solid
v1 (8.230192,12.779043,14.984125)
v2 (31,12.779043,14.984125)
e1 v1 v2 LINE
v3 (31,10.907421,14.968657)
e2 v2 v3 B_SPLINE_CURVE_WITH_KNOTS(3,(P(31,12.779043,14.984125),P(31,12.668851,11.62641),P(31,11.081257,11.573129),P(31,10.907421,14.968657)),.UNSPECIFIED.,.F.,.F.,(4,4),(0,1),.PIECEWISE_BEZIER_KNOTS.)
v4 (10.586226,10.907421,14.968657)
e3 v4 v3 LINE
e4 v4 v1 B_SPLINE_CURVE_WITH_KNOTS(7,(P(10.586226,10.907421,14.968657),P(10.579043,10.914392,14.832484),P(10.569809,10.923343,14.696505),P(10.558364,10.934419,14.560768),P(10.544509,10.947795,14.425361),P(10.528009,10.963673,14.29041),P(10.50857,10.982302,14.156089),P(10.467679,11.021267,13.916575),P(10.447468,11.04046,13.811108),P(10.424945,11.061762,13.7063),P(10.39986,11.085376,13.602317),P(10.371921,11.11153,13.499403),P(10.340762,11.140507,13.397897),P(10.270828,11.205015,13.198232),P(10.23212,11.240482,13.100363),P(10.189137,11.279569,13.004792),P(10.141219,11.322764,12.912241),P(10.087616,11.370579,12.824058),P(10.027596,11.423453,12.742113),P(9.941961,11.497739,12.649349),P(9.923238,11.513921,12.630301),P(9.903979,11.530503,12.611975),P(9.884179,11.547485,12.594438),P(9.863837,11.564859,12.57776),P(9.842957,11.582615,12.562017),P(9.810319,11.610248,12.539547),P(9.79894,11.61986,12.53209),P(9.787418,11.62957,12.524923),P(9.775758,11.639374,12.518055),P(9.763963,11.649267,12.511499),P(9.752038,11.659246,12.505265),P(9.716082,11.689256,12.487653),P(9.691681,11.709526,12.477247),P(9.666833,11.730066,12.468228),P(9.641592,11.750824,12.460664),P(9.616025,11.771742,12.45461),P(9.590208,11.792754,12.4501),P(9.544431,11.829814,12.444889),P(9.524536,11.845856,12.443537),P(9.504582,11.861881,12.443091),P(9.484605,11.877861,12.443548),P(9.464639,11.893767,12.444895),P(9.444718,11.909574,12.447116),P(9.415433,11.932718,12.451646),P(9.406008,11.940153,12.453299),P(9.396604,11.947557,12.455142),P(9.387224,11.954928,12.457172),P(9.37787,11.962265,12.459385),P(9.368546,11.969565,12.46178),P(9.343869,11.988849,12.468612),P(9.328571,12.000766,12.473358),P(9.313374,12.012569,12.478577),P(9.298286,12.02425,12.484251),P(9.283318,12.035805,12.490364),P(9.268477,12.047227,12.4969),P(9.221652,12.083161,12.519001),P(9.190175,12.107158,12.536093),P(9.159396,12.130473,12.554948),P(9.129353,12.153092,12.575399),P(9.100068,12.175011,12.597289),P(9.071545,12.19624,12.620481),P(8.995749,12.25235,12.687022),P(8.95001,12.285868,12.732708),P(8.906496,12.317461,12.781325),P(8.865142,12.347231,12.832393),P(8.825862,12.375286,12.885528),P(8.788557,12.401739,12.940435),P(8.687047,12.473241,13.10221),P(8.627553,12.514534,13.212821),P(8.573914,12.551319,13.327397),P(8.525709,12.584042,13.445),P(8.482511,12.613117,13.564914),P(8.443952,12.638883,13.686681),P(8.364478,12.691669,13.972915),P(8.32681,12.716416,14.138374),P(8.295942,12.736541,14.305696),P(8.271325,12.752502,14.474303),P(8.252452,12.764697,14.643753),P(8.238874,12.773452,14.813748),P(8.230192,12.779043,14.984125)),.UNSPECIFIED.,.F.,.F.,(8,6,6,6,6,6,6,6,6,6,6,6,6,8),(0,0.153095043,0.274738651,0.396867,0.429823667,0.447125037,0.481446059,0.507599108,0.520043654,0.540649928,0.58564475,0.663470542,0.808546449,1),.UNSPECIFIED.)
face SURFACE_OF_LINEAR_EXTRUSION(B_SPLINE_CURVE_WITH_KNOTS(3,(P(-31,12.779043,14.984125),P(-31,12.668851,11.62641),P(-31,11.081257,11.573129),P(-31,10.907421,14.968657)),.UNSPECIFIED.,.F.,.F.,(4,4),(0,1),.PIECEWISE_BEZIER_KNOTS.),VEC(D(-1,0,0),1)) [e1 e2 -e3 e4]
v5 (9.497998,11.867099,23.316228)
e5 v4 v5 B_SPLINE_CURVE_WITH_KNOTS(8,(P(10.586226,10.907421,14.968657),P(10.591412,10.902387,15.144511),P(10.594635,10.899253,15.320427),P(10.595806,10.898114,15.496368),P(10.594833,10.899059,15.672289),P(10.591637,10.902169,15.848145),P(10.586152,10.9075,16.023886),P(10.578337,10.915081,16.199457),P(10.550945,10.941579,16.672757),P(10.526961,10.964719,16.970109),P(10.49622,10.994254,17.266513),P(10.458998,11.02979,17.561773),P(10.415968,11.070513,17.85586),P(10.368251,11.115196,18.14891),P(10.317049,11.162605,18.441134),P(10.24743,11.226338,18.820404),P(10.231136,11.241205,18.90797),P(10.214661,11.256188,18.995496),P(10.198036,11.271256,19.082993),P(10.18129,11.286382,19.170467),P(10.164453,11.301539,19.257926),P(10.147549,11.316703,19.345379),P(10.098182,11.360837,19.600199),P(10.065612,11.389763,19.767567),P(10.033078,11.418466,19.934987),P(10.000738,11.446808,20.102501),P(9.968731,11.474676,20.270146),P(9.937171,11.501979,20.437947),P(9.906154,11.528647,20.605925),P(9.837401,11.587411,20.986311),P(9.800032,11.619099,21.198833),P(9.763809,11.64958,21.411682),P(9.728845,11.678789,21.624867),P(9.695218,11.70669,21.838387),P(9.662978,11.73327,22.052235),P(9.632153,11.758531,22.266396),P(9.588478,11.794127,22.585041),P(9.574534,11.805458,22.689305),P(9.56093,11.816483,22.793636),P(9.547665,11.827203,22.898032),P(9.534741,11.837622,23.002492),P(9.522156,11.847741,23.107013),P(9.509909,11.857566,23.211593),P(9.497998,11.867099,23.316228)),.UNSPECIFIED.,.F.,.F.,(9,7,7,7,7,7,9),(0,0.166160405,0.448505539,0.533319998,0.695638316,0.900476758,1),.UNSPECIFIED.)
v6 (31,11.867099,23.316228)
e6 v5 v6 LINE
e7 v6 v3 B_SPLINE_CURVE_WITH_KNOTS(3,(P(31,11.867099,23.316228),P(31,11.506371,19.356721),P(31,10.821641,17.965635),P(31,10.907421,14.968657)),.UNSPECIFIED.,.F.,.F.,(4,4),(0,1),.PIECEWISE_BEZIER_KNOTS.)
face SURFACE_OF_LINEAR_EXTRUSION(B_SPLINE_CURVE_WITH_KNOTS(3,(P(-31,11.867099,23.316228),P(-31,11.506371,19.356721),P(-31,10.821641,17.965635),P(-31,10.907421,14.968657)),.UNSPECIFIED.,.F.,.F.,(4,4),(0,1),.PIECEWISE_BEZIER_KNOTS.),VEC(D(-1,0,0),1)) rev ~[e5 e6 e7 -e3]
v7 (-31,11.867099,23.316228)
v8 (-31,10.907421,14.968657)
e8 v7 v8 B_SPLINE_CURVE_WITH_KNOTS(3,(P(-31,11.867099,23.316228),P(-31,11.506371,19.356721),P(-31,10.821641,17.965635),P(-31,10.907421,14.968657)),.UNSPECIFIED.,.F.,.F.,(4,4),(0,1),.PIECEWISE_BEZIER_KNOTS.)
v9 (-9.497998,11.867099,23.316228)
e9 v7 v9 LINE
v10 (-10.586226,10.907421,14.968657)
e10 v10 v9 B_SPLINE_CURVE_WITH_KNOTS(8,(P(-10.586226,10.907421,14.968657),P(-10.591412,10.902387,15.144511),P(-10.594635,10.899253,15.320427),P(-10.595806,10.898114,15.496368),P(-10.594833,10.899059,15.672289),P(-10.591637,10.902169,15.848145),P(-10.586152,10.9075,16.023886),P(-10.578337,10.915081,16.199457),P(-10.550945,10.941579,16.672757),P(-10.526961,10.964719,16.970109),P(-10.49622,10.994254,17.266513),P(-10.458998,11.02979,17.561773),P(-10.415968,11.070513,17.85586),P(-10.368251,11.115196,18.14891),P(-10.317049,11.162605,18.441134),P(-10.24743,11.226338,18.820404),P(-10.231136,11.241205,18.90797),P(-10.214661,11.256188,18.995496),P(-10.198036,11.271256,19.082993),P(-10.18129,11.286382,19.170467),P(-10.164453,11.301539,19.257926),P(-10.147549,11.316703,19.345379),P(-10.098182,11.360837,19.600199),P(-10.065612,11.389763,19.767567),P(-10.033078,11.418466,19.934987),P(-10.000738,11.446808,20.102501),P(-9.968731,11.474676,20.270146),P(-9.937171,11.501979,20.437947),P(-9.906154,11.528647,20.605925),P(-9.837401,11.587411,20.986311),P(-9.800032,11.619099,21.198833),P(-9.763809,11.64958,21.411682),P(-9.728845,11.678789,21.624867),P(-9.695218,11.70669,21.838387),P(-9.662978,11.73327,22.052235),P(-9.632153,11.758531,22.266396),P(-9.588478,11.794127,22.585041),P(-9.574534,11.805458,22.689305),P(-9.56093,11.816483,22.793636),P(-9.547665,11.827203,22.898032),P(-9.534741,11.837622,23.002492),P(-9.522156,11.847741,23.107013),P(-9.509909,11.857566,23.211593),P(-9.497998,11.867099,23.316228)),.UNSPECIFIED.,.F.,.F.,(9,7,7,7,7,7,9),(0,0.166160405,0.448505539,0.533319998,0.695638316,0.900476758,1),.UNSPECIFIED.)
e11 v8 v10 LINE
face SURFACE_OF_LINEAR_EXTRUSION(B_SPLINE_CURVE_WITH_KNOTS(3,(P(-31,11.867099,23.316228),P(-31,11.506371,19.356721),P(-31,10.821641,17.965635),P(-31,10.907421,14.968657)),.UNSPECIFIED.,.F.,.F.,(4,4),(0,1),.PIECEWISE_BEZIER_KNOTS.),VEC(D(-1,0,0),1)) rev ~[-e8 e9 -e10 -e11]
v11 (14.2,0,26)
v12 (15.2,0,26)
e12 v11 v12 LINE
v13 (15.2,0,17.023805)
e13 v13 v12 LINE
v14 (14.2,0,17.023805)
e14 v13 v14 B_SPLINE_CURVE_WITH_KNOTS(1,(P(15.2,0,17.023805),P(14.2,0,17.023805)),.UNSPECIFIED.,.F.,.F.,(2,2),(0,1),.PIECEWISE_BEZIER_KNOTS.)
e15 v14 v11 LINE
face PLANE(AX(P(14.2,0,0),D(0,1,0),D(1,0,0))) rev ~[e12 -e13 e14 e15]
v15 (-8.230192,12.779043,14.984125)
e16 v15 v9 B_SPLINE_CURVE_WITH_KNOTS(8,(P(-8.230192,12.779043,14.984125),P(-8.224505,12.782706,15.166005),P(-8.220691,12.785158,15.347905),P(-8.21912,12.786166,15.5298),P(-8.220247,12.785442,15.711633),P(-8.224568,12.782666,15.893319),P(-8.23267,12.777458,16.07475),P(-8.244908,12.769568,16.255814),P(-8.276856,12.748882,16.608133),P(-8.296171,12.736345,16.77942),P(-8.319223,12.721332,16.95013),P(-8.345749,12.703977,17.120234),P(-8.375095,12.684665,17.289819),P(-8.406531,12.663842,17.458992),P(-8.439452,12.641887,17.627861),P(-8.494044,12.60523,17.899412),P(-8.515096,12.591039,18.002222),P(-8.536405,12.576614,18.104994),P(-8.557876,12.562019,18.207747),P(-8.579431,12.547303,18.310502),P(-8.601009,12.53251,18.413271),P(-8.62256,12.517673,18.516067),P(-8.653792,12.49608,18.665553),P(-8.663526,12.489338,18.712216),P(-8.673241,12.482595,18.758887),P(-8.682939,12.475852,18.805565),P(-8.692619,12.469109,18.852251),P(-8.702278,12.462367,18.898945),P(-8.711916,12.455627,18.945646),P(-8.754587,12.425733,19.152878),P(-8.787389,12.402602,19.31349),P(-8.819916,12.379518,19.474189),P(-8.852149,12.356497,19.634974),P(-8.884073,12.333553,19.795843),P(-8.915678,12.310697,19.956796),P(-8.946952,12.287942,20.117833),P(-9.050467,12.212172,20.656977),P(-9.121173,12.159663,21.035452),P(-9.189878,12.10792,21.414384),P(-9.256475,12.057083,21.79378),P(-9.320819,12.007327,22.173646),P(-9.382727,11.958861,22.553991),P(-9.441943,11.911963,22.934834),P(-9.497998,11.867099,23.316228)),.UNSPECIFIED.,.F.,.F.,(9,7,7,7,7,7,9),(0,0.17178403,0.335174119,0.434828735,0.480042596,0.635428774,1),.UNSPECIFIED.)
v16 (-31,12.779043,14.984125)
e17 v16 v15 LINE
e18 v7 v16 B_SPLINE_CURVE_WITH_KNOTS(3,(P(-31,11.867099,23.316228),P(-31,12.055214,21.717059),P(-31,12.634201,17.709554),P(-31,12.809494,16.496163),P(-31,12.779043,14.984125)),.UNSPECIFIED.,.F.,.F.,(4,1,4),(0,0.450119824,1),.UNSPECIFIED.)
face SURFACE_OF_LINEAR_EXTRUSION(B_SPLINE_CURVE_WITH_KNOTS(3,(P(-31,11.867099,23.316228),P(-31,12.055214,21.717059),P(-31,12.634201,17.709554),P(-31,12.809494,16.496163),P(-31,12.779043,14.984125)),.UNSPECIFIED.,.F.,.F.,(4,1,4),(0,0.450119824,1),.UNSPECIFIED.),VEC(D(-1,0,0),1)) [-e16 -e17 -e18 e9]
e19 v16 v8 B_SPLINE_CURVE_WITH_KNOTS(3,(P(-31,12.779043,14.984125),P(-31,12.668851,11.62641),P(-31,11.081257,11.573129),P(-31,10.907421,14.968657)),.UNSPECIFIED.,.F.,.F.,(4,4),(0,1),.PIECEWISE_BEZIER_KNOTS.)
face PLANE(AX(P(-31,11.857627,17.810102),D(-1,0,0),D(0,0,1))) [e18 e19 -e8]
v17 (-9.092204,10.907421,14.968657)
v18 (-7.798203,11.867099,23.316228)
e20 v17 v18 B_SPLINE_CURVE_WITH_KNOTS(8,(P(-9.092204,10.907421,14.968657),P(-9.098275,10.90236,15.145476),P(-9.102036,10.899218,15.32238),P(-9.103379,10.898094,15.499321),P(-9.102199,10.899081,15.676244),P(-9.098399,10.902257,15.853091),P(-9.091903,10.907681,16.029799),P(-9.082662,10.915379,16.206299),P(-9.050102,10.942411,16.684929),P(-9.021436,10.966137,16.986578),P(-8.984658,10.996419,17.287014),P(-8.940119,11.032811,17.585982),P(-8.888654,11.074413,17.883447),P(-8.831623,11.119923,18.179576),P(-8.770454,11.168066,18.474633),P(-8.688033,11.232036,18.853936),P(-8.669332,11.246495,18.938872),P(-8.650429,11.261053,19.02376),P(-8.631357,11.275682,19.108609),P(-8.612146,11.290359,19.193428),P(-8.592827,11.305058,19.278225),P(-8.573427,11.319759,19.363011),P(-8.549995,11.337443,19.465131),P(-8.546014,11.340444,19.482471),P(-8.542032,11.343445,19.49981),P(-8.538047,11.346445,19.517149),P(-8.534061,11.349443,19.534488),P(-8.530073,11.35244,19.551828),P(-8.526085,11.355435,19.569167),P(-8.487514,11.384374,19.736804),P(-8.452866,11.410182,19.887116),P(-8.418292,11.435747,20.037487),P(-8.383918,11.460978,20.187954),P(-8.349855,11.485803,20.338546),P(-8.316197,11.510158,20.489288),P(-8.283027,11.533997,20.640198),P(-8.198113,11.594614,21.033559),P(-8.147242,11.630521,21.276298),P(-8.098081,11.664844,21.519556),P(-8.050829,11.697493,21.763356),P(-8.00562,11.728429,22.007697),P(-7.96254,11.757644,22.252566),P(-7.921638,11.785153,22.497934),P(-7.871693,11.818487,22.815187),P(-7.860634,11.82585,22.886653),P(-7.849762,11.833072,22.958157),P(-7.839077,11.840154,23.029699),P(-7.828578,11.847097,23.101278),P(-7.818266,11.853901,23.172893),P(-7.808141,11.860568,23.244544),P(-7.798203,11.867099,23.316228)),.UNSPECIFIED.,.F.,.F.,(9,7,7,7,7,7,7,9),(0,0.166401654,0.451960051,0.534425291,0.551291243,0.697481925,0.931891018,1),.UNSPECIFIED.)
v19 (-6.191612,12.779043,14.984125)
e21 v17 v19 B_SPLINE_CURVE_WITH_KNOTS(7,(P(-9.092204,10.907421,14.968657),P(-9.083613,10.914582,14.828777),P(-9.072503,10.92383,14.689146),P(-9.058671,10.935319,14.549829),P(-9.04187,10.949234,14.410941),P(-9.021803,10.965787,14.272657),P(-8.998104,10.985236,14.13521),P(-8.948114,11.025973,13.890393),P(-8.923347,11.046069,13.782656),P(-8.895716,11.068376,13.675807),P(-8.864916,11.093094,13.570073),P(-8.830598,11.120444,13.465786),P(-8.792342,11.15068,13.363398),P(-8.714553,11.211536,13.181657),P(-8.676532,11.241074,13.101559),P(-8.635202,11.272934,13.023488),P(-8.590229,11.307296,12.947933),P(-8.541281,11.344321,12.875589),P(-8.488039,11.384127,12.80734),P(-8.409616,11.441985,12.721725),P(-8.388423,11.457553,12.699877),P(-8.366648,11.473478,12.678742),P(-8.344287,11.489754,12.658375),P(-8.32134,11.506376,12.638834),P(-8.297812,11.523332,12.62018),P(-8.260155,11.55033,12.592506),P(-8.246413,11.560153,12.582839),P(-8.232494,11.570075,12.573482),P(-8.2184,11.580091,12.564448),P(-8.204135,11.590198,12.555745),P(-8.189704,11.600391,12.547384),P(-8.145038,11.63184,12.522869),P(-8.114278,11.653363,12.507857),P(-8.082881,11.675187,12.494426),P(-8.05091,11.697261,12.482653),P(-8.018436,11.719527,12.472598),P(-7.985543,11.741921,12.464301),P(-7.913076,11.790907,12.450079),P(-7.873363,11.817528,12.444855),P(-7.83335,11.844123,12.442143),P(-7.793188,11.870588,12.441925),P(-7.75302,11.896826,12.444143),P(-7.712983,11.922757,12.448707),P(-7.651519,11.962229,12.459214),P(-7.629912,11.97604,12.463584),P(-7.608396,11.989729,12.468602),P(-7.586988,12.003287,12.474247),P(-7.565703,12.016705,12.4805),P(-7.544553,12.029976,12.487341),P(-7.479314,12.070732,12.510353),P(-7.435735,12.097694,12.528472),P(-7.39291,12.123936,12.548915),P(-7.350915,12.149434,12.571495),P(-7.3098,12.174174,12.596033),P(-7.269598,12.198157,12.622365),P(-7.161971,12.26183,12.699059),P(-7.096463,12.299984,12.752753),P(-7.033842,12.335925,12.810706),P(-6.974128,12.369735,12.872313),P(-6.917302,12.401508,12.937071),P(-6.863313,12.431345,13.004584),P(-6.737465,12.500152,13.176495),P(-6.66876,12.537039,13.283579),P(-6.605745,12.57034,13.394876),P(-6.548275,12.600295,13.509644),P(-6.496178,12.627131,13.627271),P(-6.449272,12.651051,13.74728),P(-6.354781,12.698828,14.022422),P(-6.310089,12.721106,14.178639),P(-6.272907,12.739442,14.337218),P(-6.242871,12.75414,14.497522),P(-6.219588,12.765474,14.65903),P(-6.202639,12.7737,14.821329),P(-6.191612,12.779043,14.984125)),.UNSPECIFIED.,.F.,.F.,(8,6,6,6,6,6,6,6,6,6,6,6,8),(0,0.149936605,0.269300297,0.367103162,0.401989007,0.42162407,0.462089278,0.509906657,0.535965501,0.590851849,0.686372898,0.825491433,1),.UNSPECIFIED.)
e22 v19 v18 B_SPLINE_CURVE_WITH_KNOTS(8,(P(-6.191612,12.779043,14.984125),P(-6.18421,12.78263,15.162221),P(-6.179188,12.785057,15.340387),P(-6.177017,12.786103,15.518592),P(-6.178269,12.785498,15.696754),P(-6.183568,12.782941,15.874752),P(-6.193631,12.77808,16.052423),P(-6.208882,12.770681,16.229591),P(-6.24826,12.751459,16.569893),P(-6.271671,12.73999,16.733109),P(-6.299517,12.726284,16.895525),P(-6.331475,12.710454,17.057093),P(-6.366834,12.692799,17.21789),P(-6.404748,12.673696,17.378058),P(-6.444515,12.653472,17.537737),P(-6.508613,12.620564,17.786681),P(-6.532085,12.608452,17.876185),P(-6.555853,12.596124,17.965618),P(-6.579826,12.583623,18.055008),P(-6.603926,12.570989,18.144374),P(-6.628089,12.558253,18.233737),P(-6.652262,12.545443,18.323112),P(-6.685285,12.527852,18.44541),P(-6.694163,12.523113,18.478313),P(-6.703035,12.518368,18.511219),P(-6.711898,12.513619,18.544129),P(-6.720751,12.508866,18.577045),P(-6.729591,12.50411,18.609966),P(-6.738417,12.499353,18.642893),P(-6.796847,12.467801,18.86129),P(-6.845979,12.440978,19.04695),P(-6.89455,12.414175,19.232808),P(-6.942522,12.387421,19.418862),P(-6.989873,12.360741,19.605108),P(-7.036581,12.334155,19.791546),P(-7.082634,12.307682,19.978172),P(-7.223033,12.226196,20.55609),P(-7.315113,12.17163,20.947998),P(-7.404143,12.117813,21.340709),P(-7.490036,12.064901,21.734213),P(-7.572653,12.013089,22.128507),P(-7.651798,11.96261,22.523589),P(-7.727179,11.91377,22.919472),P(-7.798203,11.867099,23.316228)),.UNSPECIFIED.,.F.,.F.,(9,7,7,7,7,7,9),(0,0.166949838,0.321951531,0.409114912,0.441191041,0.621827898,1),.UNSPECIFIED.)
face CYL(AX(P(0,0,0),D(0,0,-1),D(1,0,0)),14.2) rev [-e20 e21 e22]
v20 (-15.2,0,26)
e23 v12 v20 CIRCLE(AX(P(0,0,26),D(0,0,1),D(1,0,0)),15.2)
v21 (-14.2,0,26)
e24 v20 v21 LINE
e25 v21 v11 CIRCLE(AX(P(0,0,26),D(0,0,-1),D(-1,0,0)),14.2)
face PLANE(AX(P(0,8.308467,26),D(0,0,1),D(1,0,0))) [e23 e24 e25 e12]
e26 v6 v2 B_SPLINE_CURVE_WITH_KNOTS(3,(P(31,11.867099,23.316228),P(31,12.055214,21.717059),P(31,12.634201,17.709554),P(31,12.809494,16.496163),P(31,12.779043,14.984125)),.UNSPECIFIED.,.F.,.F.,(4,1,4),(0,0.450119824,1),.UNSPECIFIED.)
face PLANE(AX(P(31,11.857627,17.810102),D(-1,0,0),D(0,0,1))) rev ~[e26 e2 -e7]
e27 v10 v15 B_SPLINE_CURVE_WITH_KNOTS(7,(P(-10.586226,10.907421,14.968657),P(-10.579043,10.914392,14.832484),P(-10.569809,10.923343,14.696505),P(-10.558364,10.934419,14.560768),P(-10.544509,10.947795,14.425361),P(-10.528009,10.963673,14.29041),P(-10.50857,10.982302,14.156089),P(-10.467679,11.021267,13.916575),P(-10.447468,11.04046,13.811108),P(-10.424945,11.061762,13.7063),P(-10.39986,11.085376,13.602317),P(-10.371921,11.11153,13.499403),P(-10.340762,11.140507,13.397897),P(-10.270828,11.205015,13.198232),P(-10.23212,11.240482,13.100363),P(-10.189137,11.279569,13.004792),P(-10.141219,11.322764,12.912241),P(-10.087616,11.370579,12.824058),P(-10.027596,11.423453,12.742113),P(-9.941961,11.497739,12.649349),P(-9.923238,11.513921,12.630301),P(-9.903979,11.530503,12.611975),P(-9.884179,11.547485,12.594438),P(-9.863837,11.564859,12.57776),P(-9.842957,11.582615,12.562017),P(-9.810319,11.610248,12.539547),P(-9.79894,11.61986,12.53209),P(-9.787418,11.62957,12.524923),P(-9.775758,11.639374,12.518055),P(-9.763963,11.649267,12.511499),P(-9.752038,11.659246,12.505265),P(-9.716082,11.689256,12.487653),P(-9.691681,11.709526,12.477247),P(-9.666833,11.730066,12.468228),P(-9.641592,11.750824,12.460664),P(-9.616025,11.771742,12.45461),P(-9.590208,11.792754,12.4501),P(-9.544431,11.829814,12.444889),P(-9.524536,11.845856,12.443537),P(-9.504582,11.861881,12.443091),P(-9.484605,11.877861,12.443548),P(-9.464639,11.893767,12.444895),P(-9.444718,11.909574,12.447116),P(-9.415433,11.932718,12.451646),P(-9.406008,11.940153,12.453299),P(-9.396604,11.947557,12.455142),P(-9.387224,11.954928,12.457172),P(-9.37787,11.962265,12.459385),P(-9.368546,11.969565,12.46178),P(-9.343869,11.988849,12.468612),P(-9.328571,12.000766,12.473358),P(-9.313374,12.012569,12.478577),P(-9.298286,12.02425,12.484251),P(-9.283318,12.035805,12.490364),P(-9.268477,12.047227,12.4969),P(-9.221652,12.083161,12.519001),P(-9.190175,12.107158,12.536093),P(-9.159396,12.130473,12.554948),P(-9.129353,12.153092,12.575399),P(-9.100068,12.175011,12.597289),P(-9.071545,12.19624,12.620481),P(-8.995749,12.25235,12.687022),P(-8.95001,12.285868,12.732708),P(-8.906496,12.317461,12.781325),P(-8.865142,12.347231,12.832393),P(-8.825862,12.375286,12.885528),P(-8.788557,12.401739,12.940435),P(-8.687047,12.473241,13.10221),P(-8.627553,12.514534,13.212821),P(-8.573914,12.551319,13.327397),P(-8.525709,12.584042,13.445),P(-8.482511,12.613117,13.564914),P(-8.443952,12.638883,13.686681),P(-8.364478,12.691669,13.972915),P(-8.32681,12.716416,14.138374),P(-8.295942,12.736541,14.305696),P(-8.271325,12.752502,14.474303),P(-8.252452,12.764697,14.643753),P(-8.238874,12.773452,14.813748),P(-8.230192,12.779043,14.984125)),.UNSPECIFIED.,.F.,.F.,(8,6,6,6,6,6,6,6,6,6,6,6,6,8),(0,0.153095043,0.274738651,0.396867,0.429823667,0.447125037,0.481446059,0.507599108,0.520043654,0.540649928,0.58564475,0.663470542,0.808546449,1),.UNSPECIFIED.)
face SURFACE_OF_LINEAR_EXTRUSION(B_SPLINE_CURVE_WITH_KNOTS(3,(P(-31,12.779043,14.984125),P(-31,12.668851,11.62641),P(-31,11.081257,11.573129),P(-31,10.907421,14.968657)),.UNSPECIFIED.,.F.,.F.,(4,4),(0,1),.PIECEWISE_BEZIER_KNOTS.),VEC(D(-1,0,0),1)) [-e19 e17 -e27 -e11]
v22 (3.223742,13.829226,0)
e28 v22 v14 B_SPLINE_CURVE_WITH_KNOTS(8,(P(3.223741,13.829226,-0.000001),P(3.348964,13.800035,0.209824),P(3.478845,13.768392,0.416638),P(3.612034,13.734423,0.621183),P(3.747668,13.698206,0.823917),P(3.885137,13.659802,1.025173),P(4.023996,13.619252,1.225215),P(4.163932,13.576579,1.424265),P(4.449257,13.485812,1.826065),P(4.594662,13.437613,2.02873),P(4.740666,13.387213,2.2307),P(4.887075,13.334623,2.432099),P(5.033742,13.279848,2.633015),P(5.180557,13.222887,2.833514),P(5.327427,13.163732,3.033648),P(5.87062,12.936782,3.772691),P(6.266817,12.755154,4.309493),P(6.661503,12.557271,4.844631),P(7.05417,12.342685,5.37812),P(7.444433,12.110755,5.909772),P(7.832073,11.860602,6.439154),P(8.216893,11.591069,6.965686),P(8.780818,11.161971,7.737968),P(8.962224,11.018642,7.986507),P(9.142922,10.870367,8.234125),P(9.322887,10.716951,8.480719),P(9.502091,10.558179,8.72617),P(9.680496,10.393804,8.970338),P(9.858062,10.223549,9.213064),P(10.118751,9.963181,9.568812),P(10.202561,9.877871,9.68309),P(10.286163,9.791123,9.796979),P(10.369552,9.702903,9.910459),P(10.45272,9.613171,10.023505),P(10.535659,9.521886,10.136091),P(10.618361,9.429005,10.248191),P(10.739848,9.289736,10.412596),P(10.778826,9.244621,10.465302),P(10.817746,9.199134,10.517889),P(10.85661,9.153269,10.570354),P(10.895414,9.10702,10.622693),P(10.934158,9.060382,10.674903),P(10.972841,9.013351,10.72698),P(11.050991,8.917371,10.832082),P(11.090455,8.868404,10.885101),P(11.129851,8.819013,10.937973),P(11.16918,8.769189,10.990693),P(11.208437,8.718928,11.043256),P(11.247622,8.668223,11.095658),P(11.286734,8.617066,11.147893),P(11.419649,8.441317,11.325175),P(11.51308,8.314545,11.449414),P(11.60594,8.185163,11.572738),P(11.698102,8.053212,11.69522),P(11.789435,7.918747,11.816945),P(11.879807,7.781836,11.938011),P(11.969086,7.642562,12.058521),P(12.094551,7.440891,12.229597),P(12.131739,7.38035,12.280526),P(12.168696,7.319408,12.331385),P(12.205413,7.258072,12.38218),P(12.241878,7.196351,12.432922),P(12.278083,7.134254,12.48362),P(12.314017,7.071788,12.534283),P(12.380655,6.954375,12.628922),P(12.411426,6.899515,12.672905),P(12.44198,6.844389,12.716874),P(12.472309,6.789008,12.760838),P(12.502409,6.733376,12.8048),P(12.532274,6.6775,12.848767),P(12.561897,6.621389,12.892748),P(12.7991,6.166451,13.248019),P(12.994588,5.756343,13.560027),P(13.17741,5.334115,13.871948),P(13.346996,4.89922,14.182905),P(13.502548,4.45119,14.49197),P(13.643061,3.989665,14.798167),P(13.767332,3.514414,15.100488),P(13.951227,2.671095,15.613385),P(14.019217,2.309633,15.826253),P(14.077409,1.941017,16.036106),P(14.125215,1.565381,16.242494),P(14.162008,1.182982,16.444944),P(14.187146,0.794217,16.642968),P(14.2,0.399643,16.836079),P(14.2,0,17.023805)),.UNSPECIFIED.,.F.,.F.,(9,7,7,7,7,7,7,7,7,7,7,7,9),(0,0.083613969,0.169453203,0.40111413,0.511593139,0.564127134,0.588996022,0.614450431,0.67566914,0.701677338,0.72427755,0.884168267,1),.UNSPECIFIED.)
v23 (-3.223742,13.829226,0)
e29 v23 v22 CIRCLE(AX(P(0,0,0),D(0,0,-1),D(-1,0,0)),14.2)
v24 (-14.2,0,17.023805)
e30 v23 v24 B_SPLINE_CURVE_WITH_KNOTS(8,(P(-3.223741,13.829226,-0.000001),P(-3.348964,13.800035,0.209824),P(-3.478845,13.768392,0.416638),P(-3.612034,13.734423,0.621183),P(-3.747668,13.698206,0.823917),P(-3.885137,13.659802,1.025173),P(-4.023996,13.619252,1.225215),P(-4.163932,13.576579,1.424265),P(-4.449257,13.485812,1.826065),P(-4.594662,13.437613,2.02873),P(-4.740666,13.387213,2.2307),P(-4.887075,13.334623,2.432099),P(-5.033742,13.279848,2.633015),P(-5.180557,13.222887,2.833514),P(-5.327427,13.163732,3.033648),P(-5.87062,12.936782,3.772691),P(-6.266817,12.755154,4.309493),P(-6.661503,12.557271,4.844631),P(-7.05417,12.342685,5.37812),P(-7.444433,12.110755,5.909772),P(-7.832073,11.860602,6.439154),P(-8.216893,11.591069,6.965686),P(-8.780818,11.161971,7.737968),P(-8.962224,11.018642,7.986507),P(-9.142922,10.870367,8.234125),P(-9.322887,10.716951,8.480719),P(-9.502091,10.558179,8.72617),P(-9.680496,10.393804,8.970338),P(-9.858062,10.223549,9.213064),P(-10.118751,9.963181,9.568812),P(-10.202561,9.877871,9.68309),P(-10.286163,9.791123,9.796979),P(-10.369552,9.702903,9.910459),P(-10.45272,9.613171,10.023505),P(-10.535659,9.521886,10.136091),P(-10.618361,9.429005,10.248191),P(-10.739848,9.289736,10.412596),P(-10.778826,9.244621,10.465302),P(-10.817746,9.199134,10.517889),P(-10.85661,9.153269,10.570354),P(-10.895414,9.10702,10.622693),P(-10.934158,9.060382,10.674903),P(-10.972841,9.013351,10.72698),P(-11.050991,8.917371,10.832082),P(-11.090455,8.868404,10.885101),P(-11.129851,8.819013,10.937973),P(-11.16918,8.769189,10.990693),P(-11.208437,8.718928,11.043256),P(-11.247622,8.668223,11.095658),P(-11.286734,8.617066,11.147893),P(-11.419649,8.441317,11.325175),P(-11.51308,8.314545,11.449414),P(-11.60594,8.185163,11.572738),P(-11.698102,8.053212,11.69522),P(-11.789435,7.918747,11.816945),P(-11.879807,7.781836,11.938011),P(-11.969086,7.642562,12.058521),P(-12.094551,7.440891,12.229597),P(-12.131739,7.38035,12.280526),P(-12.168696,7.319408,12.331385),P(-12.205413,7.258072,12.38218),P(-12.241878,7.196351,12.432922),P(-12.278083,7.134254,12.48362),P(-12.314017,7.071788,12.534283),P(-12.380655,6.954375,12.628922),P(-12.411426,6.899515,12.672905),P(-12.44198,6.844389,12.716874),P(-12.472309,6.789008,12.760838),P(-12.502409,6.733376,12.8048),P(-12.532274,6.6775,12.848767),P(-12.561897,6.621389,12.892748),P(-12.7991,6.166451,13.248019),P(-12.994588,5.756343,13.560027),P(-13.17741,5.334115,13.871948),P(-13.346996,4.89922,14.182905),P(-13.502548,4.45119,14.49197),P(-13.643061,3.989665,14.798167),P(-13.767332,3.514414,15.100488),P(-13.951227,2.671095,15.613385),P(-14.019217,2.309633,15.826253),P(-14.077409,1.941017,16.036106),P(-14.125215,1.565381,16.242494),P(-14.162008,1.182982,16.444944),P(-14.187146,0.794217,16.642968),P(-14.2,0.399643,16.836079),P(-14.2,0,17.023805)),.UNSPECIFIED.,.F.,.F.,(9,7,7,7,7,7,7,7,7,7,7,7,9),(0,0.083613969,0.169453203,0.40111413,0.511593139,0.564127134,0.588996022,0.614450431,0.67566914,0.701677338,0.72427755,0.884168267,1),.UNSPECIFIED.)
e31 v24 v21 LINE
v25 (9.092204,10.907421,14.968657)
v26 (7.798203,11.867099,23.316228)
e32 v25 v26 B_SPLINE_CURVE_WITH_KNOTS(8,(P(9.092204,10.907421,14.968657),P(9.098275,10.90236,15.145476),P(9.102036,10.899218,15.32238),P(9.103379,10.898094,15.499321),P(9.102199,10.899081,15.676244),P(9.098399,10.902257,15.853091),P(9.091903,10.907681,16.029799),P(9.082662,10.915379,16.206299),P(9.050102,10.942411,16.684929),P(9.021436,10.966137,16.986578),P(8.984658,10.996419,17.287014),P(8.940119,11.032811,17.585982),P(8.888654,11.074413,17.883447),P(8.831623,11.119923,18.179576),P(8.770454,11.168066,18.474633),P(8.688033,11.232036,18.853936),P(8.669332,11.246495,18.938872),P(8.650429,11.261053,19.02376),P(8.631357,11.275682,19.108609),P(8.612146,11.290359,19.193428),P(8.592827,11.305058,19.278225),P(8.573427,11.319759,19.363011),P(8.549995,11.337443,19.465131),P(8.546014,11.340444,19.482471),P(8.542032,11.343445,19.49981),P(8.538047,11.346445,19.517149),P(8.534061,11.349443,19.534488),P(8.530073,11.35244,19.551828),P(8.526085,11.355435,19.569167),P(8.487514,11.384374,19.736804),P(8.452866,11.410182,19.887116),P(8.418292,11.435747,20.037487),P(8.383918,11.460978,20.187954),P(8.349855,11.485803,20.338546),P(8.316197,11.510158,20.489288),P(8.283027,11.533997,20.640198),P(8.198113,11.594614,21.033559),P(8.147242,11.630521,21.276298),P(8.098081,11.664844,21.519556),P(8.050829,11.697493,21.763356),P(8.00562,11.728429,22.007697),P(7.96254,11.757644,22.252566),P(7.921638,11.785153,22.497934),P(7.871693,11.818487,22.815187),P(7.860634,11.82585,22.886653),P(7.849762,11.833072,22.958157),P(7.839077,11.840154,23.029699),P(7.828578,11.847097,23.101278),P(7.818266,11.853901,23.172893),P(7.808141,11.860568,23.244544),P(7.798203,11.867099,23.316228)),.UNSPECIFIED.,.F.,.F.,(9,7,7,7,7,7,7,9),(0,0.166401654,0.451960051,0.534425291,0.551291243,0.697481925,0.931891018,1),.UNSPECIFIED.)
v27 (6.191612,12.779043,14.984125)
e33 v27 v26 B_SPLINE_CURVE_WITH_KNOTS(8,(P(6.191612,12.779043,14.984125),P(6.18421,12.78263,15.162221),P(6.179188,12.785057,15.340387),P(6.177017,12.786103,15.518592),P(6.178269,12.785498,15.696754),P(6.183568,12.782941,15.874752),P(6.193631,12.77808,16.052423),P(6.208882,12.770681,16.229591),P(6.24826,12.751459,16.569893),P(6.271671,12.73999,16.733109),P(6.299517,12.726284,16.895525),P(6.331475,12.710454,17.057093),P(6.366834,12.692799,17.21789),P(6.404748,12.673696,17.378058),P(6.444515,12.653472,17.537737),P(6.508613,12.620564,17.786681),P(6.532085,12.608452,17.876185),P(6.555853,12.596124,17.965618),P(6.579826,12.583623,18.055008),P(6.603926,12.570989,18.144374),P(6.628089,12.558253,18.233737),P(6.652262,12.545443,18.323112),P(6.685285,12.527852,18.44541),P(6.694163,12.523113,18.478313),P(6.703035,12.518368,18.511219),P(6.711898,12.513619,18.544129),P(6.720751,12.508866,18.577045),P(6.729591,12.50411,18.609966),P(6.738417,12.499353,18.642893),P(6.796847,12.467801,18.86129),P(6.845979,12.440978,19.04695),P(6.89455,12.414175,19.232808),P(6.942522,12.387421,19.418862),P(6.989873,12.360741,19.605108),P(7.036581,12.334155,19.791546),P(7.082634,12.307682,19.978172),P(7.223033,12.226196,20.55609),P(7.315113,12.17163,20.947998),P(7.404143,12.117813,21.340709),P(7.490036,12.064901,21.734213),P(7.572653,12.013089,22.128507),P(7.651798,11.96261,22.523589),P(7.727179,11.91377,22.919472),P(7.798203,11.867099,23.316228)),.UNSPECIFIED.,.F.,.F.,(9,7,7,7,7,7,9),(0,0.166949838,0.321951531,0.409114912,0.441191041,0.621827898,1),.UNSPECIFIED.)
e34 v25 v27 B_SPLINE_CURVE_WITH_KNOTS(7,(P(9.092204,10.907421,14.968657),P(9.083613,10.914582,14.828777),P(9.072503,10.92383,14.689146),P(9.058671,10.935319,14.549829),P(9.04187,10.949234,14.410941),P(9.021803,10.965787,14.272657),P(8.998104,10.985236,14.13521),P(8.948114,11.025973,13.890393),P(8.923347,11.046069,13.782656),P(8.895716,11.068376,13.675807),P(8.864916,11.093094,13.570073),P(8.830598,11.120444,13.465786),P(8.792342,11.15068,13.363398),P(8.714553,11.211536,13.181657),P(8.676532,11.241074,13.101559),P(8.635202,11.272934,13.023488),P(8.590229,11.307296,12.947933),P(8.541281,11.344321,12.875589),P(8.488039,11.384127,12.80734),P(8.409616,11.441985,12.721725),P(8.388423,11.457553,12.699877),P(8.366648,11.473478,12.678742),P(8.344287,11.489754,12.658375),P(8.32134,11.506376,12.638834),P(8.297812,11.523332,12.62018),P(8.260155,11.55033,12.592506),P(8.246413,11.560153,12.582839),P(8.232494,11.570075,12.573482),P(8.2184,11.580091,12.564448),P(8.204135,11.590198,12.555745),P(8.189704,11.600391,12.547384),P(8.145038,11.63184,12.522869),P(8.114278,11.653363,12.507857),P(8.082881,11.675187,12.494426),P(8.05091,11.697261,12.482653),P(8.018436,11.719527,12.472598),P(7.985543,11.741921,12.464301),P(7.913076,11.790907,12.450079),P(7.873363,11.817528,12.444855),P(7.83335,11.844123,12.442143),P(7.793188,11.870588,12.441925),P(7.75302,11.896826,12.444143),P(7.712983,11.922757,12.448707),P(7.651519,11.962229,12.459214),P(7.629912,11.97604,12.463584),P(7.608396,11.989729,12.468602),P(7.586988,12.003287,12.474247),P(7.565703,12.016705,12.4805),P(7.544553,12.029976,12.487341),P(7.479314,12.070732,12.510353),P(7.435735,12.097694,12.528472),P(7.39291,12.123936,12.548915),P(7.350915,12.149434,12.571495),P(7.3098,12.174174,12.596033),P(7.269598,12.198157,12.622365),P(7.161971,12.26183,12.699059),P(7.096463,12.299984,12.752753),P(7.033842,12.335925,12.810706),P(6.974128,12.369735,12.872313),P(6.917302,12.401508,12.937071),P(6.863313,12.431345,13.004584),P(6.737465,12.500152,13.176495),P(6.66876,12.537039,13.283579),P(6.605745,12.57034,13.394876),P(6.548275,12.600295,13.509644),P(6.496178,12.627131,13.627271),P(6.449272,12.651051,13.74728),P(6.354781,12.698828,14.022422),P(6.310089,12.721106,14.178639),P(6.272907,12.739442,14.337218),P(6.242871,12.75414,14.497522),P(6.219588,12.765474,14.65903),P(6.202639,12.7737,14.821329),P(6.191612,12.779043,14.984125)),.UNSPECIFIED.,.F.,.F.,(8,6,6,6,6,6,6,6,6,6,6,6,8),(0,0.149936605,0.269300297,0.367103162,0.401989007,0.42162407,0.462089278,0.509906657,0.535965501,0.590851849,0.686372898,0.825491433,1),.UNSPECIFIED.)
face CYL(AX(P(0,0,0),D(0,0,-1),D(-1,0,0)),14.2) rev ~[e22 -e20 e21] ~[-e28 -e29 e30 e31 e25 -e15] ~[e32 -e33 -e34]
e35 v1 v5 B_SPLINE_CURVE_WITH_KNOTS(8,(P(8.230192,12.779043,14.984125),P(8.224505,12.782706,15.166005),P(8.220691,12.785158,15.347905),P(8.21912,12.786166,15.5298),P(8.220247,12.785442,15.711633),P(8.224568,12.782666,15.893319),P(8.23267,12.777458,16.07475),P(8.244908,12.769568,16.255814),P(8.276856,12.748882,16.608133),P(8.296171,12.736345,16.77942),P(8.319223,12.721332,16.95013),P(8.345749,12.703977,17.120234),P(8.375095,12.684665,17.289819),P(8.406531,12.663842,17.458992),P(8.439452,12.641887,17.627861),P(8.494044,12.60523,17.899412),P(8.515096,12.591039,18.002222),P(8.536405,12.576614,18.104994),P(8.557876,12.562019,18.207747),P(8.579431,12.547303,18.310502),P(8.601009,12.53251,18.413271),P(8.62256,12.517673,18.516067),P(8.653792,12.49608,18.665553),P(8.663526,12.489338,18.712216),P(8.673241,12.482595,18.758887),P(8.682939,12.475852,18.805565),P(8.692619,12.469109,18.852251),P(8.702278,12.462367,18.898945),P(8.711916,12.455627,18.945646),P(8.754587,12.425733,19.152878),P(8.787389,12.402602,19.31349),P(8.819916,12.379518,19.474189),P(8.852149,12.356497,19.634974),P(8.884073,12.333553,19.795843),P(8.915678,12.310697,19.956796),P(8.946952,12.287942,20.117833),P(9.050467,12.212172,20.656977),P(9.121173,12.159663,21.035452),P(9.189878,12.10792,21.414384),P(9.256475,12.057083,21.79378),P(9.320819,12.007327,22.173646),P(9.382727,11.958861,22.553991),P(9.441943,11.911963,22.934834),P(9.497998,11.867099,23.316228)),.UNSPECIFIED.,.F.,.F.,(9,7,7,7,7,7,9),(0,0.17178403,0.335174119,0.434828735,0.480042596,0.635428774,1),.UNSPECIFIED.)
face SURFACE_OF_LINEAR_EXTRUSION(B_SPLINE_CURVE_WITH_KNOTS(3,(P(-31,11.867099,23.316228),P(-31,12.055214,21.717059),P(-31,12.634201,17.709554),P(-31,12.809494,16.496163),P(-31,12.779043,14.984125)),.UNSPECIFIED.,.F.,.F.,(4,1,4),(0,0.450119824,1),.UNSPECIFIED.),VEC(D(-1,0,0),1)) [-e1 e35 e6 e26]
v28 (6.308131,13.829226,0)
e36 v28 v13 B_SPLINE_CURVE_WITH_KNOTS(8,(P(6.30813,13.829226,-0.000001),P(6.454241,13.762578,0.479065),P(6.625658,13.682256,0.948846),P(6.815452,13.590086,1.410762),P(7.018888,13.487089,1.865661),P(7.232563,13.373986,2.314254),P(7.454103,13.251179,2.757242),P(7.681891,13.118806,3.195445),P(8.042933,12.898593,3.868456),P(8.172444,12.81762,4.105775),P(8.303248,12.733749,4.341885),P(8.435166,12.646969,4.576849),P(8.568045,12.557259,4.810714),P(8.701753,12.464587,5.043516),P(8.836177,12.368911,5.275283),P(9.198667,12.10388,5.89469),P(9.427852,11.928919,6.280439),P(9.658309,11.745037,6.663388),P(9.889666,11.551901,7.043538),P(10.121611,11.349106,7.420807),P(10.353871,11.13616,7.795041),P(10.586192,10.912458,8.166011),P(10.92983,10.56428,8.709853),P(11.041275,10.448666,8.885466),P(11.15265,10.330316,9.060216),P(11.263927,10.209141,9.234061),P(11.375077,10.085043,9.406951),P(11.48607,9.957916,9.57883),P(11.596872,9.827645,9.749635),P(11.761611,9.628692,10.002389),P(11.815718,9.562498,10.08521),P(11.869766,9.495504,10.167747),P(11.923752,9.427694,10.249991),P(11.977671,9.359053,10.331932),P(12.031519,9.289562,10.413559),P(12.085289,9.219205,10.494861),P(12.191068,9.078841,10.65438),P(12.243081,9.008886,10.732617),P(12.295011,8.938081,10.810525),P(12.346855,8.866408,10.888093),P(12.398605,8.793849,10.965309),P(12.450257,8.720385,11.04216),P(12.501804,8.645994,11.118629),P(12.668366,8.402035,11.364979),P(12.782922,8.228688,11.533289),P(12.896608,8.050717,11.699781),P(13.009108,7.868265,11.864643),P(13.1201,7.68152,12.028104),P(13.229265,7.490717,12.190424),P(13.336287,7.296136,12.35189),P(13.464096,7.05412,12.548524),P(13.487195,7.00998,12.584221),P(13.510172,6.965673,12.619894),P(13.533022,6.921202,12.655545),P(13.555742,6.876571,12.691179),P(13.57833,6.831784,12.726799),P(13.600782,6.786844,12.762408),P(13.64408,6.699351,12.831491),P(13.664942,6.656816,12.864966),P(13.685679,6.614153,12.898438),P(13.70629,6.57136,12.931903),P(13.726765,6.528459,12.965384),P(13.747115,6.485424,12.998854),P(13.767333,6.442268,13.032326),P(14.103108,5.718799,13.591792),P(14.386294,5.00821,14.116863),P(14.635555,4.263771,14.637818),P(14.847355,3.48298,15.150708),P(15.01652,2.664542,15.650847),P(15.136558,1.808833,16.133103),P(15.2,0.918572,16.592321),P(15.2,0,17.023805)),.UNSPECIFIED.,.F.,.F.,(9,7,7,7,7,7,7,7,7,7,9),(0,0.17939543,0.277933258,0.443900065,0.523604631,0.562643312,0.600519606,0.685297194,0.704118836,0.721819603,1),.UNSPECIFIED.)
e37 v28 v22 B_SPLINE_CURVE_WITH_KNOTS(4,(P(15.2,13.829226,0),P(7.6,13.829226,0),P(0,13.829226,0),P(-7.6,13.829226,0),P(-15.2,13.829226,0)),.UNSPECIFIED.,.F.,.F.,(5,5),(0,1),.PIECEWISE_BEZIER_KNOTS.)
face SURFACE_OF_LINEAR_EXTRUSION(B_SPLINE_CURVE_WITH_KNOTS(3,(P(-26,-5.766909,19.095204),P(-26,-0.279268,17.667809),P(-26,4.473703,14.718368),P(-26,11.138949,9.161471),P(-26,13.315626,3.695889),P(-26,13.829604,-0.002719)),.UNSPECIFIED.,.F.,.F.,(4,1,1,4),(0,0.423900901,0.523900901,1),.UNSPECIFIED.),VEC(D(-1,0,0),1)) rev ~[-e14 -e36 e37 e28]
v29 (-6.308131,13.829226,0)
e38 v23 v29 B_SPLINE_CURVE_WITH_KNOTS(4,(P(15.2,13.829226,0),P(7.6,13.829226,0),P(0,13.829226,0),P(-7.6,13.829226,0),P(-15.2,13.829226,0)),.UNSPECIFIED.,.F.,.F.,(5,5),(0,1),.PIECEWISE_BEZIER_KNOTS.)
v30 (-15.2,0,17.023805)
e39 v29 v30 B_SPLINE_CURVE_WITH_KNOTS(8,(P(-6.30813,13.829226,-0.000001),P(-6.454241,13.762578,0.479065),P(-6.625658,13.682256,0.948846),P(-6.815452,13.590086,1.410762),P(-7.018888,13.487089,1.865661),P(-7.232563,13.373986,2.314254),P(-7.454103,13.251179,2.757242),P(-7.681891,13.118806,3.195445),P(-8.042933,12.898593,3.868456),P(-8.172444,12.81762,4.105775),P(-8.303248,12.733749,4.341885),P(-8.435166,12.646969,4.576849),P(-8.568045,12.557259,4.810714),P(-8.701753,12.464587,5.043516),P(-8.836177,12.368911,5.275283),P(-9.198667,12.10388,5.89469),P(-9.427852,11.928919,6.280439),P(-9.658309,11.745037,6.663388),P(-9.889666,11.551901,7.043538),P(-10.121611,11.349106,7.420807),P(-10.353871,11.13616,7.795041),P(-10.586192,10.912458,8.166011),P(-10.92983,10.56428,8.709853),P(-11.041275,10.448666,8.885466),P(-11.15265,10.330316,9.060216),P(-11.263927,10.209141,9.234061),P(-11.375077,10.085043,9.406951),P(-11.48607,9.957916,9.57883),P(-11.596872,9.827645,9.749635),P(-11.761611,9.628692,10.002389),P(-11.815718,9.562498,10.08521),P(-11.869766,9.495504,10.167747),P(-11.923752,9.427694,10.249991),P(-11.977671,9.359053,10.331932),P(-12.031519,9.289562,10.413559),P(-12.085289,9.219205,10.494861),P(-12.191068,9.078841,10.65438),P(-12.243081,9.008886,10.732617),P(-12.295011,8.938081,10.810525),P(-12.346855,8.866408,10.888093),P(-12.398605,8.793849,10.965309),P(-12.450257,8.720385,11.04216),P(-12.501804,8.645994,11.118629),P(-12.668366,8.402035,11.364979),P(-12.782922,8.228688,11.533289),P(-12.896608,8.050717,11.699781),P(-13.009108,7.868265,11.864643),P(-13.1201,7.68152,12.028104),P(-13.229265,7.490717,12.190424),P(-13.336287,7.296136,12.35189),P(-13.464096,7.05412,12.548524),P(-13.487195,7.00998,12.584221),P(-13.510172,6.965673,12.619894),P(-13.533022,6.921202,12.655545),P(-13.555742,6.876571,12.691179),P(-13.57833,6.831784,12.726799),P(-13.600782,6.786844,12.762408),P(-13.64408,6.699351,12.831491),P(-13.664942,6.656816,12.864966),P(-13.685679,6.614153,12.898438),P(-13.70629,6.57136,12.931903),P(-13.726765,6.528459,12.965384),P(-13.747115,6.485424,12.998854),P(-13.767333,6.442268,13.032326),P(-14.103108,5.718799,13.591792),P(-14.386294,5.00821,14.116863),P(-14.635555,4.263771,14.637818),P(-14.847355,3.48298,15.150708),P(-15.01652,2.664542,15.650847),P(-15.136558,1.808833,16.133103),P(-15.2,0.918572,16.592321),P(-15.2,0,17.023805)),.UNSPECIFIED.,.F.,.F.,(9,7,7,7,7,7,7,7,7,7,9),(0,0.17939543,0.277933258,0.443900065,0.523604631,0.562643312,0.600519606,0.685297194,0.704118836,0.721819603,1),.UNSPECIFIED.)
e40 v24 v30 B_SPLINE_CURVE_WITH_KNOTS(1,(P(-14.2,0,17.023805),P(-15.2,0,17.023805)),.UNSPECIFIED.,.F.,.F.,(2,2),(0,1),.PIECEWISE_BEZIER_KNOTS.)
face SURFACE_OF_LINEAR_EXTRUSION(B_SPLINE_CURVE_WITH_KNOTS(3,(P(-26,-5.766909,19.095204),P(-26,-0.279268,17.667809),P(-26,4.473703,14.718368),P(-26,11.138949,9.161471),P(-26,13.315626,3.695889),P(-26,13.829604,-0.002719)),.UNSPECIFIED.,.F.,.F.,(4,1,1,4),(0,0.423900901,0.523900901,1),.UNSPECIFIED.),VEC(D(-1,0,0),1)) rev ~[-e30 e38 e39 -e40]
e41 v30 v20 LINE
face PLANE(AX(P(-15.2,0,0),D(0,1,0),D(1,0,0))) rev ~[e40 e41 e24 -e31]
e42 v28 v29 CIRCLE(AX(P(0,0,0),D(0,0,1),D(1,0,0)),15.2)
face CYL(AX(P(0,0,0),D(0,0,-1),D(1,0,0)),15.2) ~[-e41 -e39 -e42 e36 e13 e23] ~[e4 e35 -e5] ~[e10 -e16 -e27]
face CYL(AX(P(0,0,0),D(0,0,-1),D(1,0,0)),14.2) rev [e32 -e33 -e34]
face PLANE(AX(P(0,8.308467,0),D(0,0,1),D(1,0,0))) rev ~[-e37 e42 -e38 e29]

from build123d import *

# Parameters (mm, degrees)
REARWINGBASE_DEPTH   = 26
CLEARENCE_DEPTH      = 26
CLEARENCE_DEPTH_BACK = 26
REARWING_DEPTH       = 31
REARWING_DEPTH_BACK  = 31
CLEARENCE2_START     = -26
SKETCH10_R           = 14.2
CLEARENCE2_DEPTH     = 26


with BuildPart() as part:
    # Sketch4 → RearWingBase (new body)
    with BuildSketch(Plane.XY):
        with BuildLine():
            Line((-15.2, 0), (-14.2, 0))
            ThreePointArc((-14.2, 0), (0, 14.2), (14.2, 0))
            Line((14.2, 0), (15.2, 0))
            ThreePointArc((15.2, 0), (0, 15.2), (-15.2, 0))
        make_face()
    extrude(amount=REARWINGBASE_DEPTH)

    # Sketch6 → Clearence (cut, two sides: drawn at the far end of the back side and taken through both)
    with BuildSketch(Plane(origin=(0, 0, 0), x_dir=(0, 0, -1), z_dir=(1, 0, 0)).offset(-CLEARENCE_DEPTH_BACK)):
        with BuildLine():
            Line((0.002719324, 15.197805772), (0.002719324, 13.829604024))
            add(Edge.make_bspline(
                [(0, 13.829225922), (0.000906491, 13.829352033), (0.001812932, 13.829478067), (0.002719324, 13.829604024)],
                knots=[0.999883326, 0.999883326, 0.999883326, 0.999883326, 1, 1, 1, 1], degree=3))
            add(Edge.make_bspline(
                [(-19.095204108, -5.766909468), (-17.667809088, -0.279268361), (-14.718368277, 4.473703473), (-9.162118992, 11.138171669), (-3.698103032, 13.314743837), (0, 13.829225922)],
                knots=[0, 0, 0, 0, 0.423900901, 0.523900901, 0.999883326, 0.999883326, 0.999883326, 0.999883326], degree=3))
            Line((-19.095204108, -5.766909468), (5.416214623, -5.766909468))
            Line((5.416214623, -5.766909468), (5.416214623, 15.197805772))
            Line((5.416214623, 15.197805772), (0.002719324, 15.197805772))
        make_face()
    extrude(amount=CLEARENCE_DEPTH + CLEARENCE_DEPTH_BACK, mode=Mode.SUBTRACT)

    # Sketch7 → RearWing (add, two sides: drawn at the far end of the back side and taken through both)
    with BuildSketch(Plane(origin=(0, 0, 0), x_dir=(0, 0, -1), z_dir=(1, 0, 0)).offset(-REARWING_DEPTH_BACK)):
        with BuildLine():
            add(Edge.make_bspline(
                [(-23.31622835, 11.867098708), (-21.717058728, 12.055213608), (-17.709554302, 12.634200705), (-16.496163082, 12.809494118), (-14.984125288, 12.779042837)],
                knots=[0, 0, 0, 0, 0.450119824, 1, 1, 1, 1], degree=3))
            add(Edge.make_bspline(
                [(-14.984125288, 12.779042837), (-11.626410325, 12.668851451), (-11.573129472, 11.081257235), (-14.968657337, 10.907420766)],
                knots=[0, 0, 0, 0, 1, 1, 1, 1], degree=3))
            add(Edge.make_bspline(
                [(-23.31622835, 11.867098708), (-19.356721106, 11.506371016), (-17.965634836, 10.821641279), (-14.968657337, 10.907420766)],
                knots=[0, 0, 0, 0, 1, 1, 1, 1], degree=3))
        make_face()
    extrude(amount=REARWING_DEPTH + REARWING_DEPTH_BACK)

    # Sketch10 → Clearence2 (cut)
    with BuildSketch(Plane.XY.offset(26).offset(CLEARENCE2_START)):
        Circle(SKETCH10_R)
    extrude(amount=CLEARENCE2_DEPTH, mode=Mode.SUBTRACT)


solid = part.part
